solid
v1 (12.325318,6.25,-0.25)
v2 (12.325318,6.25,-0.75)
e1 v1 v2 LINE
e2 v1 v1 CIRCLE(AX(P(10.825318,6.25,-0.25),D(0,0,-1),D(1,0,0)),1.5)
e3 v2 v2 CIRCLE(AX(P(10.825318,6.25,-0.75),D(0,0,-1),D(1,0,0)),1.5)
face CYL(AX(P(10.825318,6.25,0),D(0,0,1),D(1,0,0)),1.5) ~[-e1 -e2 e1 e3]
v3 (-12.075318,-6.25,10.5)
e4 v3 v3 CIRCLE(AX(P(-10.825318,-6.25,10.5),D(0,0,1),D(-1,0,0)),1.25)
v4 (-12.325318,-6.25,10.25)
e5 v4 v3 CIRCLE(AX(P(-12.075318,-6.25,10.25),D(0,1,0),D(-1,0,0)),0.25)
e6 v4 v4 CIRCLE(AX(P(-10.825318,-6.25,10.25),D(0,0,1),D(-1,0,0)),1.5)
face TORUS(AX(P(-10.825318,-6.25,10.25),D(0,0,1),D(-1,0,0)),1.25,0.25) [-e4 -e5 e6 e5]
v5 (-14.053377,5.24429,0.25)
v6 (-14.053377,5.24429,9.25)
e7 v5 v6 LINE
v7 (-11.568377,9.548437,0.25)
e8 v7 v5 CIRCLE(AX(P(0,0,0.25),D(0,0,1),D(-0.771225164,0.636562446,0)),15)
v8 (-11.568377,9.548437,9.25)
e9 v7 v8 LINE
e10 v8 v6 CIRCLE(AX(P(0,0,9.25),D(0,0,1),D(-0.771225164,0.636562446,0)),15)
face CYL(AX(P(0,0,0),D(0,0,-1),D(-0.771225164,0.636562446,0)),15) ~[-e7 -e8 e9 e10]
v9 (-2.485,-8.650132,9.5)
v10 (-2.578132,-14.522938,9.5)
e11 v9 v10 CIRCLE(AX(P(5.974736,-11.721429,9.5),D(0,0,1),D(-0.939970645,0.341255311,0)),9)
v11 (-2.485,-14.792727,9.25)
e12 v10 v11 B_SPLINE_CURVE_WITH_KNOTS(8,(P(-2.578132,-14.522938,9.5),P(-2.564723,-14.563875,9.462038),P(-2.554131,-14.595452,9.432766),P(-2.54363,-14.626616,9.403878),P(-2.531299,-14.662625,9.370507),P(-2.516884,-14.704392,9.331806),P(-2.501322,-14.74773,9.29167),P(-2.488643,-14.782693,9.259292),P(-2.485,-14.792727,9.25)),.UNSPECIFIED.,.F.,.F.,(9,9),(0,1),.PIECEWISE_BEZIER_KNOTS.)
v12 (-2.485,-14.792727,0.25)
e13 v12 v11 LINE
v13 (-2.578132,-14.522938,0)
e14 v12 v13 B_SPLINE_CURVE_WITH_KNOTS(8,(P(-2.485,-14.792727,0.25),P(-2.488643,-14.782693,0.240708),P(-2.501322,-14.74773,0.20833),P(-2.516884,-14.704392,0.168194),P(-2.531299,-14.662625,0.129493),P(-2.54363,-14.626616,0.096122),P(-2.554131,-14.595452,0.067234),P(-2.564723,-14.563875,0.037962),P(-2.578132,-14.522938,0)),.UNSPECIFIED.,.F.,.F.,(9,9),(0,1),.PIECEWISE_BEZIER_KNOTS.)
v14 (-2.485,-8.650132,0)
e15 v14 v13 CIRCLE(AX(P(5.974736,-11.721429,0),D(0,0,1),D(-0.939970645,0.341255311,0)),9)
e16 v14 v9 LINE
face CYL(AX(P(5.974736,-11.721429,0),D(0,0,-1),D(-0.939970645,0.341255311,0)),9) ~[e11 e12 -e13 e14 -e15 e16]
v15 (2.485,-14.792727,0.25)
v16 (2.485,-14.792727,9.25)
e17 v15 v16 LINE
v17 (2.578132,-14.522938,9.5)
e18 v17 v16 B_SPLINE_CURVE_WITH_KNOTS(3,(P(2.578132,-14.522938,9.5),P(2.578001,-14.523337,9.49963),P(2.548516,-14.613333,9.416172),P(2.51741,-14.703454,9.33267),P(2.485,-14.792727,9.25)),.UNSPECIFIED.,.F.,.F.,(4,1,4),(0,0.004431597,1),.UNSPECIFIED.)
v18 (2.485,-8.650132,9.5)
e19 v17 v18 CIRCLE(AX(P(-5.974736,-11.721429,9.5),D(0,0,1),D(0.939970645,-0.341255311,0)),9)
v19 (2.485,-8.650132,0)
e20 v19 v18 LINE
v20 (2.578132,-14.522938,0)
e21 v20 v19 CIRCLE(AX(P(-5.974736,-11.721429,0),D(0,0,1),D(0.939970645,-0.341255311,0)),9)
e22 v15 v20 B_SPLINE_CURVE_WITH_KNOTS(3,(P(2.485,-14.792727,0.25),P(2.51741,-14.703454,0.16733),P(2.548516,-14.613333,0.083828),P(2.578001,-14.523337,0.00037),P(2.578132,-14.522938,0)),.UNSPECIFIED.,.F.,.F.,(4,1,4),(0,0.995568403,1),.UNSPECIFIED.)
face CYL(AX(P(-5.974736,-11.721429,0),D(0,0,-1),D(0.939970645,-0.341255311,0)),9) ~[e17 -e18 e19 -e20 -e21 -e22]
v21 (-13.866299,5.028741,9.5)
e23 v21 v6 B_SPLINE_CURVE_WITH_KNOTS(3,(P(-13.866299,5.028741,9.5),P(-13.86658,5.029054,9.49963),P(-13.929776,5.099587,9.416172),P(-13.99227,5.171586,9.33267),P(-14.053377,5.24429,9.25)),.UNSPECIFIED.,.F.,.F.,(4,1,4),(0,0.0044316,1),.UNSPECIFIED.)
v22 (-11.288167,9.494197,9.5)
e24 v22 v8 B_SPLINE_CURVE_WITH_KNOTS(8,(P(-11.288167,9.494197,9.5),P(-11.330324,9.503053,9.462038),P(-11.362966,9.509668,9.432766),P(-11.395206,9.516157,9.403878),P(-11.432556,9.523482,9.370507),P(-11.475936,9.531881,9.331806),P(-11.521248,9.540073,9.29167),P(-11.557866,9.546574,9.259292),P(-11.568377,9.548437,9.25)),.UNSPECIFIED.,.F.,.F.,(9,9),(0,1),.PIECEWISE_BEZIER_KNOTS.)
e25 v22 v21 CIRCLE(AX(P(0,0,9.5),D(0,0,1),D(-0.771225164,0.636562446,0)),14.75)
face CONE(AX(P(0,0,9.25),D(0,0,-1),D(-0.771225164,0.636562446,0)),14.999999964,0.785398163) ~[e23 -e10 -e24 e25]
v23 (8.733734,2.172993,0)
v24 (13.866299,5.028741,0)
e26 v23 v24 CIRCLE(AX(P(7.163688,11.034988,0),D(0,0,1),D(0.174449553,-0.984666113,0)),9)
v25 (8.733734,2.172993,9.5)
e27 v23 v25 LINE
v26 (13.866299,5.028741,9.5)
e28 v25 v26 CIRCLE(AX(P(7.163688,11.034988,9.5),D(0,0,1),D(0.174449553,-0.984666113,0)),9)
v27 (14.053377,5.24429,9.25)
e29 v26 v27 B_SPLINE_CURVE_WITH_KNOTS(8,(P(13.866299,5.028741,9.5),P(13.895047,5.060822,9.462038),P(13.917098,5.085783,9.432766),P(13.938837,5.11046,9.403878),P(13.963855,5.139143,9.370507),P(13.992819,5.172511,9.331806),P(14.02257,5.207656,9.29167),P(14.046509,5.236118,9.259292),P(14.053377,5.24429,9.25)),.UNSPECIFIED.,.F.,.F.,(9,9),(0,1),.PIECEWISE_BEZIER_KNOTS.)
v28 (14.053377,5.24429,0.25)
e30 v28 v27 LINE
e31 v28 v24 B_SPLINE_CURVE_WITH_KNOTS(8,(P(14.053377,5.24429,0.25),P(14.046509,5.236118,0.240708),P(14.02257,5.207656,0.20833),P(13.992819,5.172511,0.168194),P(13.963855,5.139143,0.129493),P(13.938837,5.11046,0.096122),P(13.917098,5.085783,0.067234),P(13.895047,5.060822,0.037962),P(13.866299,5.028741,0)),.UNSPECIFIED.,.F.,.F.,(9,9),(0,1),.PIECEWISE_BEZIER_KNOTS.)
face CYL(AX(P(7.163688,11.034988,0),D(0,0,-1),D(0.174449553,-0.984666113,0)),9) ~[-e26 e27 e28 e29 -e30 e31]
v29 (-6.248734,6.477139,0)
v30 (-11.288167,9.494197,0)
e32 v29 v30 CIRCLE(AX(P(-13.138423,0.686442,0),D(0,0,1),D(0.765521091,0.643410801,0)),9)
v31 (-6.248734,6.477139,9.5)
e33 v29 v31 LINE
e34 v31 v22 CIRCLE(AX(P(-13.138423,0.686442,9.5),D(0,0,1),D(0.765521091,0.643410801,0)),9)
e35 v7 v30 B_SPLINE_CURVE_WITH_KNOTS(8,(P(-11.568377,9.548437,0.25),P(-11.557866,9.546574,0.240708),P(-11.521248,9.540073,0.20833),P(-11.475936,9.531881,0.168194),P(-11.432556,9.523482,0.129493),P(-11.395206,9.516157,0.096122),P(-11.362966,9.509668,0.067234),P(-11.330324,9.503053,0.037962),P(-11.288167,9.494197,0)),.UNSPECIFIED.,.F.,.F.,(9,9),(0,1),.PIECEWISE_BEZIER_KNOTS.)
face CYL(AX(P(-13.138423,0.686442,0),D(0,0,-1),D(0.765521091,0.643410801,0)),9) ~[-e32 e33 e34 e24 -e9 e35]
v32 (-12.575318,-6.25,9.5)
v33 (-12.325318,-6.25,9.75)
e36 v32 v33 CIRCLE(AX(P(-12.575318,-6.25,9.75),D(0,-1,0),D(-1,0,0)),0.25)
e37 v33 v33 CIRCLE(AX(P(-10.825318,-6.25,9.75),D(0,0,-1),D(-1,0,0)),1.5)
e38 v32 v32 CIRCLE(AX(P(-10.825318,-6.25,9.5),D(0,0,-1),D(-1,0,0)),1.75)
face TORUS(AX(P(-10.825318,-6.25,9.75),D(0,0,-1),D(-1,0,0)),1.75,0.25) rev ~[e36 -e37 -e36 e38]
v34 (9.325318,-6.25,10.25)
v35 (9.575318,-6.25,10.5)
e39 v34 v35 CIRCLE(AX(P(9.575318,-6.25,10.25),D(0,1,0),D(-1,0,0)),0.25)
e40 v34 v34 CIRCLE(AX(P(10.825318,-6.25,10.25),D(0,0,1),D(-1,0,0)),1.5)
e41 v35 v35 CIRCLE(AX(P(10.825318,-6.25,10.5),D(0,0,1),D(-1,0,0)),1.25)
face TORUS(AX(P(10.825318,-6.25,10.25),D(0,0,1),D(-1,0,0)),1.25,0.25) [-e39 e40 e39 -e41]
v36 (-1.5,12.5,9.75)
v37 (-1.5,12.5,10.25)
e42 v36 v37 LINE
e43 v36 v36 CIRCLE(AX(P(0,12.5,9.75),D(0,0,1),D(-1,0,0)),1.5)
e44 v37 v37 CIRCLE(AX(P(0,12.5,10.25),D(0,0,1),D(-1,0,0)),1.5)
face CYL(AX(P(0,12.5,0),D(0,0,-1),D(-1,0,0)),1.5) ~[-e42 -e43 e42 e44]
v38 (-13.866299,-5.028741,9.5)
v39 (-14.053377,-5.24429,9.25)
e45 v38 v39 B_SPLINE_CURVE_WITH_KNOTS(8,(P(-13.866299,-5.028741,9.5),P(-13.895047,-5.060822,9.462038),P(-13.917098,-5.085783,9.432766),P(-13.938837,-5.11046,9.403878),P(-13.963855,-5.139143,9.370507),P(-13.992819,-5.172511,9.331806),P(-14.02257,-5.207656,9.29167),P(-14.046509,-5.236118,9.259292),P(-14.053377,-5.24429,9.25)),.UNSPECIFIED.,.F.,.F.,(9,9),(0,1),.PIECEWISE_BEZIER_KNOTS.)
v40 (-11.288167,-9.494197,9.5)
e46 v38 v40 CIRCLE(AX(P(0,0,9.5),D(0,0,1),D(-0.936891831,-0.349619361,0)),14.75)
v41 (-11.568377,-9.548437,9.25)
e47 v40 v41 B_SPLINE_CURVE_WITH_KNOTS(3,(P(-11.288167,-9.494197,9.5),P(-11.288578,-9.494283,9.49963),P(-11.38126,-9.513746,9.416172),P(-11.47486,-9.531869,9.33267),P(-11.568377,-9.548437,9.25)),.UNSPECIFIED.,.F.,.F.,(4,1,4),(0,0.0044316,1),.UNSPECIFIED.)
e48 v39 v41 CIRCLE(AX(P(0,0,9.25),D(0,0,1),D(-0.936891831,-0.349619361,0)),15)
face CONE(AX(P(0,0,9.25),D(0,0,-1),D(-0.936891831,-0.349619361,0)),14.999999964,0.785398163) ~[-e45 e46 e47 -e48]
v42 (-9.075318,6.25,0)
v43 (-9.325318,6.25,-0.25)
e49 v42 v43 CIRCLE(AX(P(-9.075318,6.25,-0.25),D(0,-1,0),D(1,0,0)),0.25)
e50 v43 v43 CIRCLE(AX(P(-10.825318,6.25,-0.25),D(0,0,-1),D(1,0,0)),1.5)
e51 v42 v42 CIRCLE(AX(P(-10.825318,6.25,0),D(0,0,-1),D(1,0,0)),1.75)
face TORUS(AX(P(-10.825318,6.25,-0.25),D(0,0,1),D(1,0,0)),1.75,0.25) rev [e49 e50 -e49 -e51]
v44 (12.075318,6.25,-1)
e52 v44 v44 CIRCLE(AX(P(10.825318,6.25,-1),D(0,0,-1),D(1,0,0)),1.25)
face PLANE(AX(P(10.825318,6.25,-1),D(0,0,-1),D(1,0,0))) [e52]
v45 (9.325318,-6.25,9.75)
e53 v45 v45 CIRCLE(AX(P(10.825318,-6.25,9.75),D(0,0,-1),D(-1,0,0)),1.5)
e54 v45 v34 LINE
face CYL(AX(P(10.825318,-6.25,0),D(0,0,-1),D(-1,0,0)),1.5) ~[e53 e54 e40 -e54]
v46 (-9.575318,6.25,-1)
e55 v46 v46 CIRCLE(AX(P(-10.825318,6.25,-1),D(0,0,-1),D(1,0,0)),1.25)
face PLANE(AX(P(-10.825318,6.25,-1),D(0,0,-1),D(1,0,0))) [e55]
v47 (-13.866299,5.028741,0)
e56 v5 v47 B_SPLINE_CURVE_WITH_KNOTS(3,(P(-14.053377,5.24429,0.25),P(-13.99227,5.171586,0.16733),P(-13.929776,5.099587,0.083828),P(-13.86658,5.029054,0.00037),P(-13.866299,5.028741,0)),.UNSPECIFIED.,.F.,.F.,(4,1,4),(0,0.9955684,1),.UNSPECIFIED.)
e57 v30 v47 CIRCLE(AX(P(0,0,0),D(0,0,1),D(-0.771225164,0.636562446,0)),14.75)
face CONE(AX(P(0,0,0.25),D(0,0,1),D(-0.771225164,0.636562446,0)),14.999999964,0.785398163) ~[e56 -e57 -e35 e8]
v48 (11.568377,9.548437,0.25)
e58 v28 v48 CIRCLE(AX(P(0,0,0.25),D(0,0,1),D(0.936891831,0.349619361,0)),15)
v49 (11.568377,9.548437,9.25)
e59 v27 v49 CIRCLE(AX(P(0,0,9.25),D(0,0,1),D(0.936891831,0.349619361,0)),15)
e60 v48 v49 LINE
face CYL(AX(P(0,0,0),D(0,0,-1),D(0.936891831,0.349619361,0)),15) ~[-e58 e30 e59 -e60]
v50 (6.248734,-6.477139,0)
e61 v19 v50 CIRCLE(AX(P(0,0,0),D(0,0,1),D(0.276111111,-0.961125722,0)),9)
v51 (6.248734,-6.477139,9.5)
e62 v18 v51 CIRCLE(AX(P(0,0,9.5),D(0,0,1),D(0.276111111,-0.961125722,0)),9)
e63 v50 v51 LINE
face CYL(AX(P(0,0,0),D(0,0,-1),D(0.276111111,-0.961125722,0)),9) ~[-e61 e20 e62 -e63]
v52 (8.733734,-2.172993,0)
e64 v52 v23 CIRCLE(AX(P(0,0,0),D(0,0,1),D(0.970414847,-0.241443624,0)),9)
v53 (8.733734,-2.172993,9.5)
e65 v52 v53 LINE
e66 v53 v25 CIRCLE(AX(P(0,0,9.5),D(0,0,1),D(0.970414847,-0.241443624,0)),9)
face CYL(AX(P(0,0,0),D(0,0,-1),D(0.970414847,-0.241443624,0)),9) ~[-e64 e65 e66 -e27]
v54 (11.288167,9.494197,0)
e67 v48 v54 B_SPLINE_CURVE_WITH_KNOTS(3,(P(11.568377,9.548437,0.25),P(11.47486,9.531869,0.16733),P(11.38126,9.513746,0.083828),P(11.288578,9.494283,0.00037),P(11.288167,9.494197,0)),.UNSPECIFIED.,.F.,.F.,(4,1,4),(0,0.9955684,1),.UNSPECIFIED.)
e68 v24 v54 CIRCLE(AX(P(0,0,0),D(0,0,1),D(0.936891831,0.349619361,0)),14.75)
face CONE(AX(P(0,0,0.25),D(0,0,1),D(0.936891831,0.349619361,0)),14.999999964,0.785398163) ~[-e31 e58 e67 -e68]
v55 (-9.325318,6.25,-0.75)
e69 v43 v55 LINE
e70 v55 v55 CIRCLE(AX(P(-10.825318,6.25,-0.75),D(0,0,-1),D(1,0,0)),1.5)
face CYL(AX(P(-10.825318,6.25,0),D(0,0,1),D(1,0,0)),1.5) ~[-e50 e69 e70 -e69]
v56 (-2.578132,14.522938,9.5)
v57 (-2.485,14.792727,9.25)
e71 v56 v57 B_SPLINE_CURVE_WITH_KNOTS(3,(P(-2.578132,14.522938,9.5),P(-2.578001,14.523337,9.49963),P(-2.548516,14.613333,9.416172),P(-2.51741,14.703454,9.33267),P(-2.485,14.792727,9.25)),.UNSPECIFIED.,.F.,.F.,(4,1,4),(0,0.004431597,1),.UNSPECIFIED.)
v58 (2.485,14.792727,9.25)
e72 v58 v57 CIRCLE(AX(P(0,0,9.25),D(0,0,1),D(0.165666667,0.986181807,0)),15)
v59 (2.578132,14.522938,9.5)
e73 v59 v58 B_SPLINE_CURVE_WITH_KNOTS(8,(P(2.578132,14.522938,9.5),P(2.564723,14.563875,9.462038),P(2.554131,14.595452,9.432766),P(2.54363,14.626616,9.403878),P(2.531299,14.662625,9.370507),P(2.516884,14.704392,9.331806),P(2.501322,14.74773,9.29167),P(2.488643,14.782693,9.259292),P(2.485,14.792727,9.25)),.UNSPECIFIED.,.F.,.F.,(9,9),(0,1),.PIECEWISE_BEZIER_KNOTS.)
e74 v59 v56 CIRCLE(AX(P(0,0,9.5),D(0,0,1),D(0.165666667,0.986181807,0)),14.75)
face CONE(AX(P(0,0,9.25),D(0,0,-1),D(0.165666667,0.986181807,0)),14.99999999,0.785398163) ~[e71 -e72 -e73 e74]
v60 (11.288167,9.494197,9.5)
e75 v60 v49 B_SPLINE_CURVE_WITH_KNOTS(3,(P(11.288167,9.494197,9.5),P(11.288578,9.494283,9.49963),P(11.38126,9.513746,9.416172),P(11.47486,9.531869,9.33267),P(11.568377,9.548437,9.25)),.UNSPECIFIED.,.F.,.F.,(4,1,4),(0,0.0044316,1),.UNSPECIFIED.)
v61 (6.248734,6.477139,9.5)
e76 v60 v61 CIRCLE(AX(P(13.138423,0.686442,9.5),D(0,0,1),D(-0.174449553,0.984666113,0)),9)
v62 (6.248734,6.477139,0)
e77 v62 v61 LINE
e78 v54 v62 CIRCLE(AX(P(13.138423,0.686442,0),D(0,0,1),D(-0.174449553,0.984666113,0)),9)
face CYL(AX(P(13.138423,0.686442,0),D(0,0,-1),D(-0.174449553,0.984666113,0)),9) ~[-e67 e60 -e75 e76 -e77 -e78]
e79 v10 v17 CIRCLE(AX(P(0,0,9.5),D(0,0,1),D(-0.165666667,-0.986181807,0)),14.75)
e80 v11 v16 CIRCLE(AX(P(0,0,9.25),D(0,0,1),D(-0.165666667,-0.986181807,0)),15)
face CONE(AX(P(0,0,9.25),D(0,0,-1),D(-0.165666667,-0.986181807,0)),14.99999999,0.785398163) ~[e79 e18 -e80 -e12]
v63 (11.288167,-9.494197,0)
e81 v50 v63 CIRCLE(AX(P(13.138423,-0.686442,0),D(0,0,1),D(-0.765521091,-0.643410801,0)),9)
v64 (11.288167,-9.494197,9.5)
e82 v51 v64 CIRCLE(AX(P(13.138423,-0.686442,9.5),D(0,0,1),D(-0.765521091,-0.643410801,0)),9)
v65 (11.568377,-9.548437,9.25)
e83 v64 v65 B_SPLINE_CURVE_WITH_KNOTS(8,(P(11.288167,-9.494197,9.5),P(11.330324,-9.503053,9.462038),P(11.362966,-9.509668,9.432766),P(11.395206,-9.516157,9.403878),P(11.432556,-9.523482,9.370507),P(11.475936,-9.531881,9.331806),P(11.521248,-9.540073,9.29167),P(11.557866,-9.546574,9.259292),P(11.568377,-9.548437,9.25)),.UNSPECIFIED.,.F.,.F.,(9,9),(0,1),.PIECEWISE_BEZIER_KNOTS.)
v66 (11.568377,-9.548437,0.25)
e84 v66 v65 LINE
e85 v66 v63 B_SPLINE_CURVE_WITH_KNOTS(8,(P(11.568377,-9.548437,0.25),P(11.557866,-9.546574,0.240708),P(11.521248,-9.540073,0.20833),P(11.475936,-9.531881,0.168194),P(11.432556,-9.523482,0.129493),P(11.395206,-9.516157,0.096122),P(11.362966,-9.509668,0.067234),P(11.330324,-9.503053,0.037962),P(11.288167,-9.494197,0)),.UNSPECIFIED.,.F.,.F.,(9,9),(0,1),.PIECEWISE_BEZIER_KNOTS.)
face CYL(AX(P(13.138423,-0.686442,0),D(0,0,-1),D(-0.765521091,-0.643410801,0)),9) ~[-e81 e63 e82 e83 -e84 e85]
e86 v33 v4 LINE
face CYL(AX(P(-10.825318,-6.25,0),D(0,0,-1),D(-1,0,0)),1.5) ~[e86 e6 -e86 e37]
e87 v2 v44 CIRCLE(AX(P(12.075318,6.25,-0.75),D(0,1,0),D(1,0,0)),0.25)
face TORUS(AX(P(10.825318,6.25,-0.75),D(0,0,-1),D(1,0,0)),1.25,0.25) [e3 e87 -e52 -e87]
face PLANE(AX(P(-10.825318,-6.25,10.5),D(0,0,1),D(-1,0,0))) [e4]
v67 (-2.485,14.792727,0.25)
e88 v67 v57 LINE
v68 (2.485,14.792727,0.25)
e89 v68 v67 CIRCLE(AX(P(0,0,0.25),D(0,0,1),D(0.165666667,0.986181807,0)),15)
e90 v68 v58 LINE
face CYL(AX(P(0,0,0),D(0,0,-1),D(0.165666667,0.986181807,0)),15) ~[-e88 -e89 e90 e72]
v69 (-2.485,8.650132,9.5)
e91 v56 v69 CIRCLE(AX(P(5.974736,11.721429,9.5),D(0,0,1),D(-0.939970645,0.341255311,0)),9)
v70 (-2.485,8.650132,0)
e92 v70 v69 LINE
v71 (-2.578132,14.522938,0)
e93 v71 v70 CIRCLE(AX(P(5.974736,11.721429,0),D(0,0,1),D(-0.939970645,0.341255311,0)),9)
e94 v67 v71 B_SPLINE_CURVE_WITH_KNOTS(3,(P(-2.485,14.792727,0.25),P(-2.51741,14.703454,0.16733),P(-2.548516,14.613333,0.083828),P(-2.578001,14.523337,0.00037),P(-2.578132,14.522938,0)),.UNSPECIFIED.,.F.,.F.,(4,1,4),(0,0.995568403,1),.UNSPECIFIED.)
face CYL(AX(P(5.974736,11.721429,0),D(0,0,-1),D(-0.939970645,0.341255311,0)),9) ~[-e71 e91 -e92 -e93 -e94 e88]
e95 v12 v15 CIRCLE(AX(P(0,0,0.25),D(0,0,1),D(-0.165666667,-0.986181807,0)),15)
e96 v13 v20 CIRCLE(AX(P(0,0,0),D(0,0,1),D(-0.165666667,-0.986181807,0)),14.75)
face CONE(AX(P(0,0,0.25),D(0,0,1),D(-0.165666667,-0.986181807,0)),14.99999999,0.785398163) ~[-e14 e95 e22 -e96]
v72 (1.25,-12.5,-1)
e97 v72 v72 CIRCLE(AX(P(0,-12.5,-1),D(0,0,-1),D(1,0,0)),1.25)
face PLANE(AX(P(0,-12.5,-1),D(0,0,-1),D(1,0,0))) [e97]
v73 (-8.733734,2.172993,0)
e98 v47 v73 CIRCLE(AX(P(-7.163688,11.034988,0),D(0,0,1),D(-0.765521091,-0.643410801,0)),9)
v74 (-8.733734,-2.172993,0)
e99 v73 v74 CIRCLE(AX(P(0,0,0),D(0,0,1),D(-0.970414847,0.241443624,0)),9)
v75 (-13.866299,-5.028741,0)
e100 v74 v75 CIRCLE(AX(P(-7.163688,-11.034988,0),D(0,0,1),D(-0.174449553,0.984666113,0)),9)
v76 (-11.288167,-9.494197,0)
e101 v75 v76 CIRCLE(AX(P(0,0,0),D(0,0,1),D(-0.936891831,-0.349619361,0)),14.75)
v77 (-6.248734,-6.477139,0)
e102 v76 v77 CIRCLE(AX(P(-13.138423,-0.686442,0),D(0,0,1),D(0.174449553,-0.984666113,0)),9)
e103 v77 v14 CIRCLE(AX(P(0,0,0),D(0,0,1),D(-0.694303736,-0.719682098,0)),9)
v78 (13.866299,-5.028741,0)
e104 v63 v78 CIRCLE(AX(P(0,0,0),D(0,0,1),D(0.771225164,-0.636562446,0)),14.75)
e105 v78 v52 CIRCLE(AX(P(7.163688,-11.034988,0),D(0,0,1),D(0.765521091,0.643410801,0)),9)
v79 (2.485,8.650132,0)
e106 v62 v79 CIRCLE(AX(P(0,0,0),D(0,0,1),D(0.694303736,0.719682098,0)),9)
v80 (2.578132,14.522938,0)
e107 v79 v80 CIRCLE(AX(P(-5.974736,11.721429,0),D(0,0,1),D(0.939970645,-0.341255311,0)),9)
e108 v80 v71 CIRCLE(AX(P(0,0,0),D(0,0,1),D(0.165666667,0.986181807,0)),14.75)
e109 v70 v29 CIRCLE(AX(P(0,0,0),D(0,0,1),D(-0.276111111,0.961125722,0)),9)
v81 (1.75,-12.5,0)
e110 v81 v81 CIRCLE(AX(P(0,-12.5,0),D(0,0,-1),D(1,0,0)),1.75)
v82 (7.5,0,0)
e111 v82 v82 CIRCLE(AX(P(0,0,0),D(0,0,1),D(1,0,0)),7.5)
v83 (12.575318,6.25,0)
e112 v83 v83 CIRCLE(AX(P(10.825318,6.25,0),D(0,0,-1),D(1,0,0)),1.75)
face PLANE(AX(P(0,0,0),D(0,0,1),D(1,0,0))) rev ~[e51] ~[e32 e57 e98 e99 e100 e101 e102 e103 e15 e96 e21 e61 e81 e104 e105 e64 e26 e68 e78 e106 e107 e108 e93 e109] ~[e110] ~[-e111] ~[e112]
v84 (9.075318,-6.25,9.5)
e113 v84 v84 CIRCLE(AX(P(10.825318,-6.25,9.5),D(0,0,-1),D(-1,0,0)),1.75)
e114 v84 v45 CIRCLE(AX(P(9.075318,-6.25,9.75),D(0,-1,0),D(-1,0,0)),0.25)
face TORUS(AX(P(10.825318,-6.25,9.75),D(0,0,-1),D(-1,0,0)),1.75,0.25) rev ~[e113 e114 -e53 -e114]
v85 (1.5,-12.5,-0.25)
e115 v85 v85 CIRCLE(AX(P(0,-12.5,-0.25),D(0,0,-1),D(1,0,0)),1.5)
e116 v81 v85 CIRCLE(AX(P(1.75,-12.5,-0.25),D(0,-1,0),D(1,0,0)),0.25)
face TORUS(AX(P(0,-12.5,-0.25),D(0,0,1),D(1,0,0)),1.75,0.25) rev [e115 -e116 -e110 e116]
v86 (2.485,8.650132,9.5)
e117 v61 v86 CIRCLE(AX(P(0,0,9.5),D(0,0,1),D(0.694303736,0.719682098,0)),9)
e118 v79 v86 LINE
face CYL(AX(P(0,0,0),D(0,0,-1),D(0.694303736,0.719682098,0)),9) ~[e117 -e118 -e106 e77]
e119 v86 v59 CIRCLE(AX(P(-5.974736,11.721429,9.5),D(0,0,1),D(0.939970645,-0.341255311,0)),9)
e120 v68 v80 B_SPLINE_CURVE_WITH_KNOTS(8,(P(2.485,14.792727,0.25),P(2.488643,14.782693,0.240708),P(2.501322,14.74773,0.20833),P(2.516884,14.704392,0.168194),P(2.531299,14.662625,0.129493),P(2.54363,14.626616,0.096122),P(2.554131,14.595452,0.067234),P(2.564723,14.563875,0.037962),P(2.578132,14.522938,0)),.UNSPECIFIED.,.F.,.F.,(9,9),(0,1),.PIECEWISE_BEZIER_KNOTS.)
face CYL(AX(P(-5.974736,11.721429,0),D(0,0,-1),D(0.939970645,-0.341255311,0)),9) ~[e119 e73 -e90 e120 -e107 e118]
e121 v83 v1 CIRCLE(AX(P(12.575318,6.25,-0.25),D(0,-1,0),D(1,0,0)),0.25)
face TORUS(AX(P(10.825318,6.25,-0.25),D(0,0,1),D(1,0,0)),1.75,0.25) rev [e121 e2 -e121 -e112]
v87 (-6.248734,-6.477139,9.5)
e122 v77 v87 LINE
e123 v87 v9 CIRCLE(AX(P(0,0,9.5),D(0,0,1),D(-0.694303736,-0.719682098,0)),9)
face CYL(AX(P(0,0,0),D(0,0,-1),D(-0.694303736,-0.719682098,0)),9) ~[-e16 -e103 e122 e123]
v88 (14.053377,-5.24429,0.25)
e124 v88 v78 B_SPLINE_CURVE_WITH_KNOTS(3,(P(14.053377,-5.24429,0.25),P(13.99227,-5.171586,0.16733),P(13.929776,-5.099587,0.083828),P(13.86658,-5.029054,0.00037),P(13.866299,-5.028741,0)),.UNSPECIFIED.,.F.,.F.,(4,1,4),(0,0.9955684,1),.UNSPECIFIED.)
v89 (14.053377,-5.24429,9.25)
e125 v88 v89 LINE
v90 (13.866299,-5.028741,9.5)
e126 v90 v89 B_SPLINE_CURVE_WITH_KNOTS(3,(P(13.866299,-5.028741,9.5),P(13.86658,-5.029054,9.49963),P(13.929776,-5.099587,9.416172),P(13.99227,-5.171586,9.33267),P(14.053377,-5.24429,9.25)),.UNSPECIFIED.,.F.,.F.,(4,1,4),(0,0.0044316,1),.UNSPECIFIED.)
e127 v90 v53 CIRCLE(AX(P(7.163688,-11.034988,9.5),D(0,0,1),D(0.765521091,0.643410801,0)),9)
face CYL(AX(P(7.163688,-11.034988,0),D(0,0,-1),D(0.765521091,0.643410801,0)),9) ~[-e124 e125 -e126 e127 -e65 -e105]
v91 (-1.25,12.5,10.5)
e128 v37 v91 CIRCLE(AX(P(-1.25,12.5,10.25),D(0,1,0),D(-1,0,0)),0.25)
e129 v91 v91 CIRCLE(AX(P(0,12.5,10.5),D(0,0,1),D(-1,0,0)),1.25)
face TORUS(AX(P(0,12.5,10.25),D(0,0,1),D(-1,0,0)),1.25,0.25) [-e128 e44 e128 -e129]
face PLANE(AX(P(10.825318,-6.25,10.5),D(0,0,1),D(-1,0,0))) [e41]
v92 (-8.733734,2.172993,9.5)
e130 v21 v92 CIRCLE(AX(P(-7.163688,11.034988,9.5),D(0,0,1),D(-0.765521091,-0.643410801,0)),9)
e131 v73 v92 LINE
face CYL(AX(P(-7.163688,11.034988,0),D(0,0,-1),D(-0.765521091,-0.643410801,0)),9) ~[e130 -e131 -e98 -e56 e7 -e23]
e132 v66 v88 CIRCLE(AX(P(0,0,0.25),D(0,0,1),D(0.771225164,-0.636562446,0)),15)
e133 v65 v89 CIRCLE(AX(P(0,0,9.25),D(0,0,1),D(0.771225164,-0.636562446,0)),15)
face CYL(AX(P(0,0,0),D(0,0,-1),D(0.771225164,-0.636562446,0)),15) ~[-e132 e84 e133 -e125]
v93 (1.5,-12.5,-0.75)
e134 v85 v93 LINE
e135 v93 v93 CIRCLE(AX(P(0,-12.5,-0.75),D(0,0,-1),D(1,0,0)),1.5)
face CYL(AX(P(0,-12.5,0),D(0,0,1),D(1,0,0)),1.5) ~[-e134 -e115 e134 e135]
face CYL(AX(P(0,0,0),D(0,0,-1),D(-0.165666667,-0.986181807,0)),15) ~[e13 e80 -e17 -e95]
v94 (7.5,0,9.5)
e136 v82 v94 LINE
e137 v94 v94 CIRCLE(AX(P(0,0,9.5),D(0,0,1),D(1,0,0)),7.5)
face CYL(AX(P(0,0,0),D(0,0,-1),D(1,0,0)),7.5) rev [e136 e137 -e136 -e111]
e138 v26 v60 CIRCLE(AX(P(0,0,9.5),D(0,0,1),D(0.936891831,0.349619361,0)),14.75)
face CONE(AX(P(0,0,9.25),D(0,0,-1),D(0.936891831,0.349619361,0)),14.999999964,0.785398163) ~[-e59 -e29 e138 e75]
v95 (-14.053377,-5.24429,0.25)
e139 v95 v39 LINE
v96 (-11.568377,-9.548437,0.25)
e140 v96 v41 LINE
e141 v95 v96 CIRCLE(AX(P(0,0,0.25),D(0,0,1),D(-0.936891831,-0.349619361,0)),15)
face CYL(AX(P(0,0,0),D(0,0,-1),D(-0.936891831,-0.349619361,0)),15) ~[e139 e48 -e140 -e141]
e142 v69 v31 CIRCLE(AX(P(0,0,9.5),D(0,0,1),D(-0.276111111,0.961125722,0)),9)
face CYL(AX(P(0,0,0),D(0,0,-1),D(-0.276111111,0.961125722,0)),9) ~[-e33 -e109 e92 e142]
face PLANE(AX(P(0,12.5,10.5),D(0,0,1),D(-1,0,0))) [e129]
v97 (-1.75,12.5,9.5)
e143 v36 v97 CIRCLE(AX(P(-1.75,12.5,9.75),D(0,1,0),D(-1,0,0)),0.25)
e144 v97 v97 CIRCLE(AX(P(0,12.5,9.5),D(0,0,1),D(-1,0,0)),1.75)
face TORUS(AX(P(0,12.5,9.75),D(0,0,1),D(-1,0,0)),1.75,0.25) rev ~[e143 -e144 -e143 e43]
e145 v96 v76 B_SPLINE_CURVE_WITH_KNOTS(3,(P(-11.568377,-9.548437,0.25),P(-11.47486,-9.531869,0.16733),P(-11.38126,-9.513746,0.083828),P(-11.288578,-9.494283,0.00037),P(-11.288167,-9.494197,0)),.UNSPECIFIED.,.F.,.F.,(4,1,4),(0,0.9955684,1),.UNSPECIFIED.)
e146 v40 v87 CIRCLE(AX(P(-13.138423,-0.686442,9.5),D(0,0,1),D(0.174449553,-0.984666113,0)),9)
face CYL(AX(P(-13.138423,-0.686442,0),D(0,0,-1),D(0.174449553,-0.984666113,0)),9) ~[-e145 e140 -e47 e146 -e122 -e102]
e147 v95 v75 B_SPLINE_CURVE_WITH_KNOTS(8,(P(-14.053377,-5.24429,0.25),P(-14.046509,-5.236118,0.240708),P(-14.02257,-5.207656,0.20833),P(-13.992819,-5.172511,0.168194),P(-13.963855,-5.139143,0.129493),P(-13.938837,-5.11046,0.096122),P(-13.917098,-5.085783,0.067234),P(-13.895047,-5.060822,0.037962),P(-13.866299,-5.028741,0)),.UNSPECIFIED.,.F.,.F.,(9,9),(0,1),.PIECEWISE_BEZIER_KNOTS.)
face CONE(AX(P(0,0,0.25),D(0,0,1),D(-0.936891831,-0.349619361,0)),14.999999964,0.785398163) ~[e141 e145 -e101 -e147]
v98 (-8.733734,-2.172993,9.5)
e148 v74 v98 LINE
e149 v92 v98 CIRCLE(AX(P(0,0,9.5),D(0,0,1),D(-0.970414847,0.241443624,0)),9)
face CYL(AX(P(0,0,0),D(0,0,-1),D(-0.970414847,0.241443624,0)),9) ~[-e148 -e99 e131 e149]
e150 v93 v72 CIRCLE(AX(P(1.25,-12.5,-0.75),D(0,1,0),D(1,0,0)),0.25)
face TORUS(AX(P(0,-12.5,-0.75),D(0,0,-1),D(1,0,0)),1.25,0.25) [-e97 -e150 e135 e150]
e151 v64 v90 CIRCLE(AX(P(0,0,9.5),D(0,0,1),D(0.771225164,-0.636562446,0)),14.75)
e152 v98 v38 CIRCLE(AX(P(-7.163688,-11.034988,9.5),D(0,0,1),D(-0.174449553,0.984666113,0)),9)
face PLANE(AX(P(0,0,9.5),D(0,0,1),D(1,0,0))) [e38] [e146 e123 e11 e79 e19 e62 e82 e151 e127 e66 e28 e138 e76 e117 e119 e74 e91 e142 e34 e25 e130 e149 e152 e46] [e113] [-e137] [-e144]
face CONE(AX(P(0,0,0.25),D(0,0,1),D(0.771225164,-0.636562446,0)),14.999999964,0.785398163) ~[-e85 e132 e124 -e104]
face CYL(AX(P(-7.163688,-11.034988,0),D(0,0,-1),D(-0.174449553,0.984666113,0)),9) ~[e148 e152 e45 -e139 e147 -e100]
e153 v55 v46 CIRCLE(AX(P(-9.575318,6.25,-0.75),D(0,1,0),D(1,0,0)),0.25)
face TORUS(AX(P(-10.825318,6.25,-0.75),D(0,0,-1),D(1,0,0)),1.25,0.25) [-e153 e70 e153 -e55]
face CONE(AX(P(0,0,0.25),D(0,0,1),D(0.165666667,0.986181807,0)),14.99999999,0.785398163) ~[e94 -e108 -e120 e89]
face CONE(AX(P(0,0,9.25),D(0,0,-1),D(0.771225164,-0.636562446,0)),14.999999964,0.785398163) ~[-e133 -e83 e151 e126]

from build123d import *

# Parameters (mm, degrees)
SKETCH1_R           = 7.5
SKETCH1_R_2         = 1.5
BOSS_EXTRUDE1_DEPTH = 9.5
SKETCH1_4_R         = 1.5
BOSS_EXTRUDE2_DEPTH = 10.5
FILLET1_R           = 0.25
CHAMFER1_SIZE       = 0.25
SKETCH2_R           = 1.5
BOSS_EXTRUDE3_DEPTH = 1
FILLET2_R           = 0.25


with BuildPart() as part:
    # Sketch1 → Boss-Extrude1 (new body)
    with BuildSketch(Plane.XY):
        with BuildLine():
            ThreePointArc((-11.568377458, 9.548436677), (-12.990381057, 7.5), (-14.053377458, 5.244290421))
            ThreePointArc((-14.053377458, 5.244290421), (-11.663687642, 3.240759001), (-8.733733627, 2.172992623))
            ThreePointArc((-8.733733627, 2.172992623), (-9, 0), (-8.733733627, -2.172992623))
            ThreePointArc((-8.733733627, -2.172992623), (-11.663687642, -3.240759001), (-14.053377458, -5.244290421))
            ThreePointArc((-14.053377458, -5.244290421), (-12.990381057, -7.5), (-11.568377458, -9.548436677))
            ThreePointArc((-11.568377458, -9.548436677), (-8.638423443, -8.480670299), (-6.248733627, -6.477138879))
            ThreePointArc((-6.248733627, -6.477138879), (-4.5, -7.794228634), (-2.485, -8.650131502))
            ThreePointArc((-2.485, -8.650131502), (-3.025264198, -11.7214293), (-2.485, -14.792727098))
            ThreePointArc((-2.485, -14.792727098), (0, -15), (2.485, -14.792727098))
            ThreePointArc((2.485, -14.792727098), (3.025264198, -11.7214293), (2.485, -8.650131502))
            ThreePointArc((2.485, -8.650131502), (4.5, -7.794228634), (6.248733627, -6.477138879))
            ThreePointArc((6.248733627, -6.477138879), (8.638423443, -8.480670299), (11.568377458, -9.548436677))
            ThreePointArc((11.568377458, -9.548436677), (12.990381057, -7.5), (14.053377458, -5.244290421))
            ThreePointArc((14.053377458, -5.244290421), (11.663687642, -3.240759001), (8.733733627, -2.172992623))
            ThreePointArc((8.733733627, -2.172992623), (9, 0), (8.733733627, 2.172992623))
            ThreePointArc((8.733733627, 2.172992623), (11.663687642, 3.240759001), (14.053377458, 5.244290421))
            ThreePointArc((14.053377458, 5.244290421), (12.990381057, 7.5), (11.568377458, 9.548436677))
            ThreePointArc((11.568377458, 9.548436677), (8.638423443, 8.480670299), (6.248733627, 6.477138879))
            ThreePointArc((6.248733627, 6.477138879), (4.5, 7.794228634), (2.485, 8.650131502))
            ThreePointArc((2.485, 8.650131502), (3.025264198, 11.7214293), (2.485, 14.792727098))
            ThreePointArc((2.485, 14.792727098), (0, 15), (-2.485, 14.792727098))
            ThreePointArc((-2.485, 14.792727098), (-3.025264198, 11.7214293), (-2.485, 8.650131502))
            ThreePointArc((-2.485, 8.650131502), (-4.5, 7.794228634), (-6.248733627, 6.477138879))
            ThreePointArc((-6.248733627, 6.477138879), (-8.638423443, 8.480670299), (-11.568377458, 9.548436677))
        make_face()
        Circle(SKETCH1_R, mode=Mode.SUBTRACT)
        with Locations((0, 12.5)):
            Circle(SKETCH1_R_2, mode=Mode.SUBTRACT)
        with Locations((10.825317547, -6.25)):
            Circle(SKETCH1_R_2, mode=Mode.SUBTRACT)
        with Locations((-10.825317547, -6.25)):
            Circle(SKETCH1_R_2, mode=Mode.SUBTRACT)
    extrude(amount=BOSS_EXTRUDE1_DEPTH)

    # Sketch1<4> → Boss-Extrude2 (add)
    with BuildSketch(Plane.XY):
        with Locations((0, 12.5)):
            Circle(SKETCH1_4_R)
        with Locations((10.825317547, -6.25)):
            Circle(SKETCH1_4_R)
        with Locations((-10.825317547, -6.25)):
            Circle(SKETCH1_4_R)
    extrude(amount=BOSS_EXTRUDE2_DEPTH)

    # Fillet1
    fillet1_edges = [part.edges().sort_by_distance(p)[0] for p in [
        (9.325317547, -6.25, 10.5),
        (-1.5, 12.5, 10.5),
        (-12.325317547, -6.25, 10.5),
        (-1.5, 12.5, 9.5),
        (9.325317547, -6.25, 9.5),
        (-12.325317547, -6.25, 9.5),
    ]]
    fillet(fillet1_edges, radius=FILLET1_R)

    # Chamfer1
    chamfer1_edges = [part.edges().sort_by_distance(p)[0] for p in [
        (12.990381057, -7.5, 9.5),
        (0, -15, 9.5),
        (-12.990381057, -7.5, 9.5),
        (-12.990381057, 7.5, 9.5),
        (0, 15, 9.5),
        (12.990381057, 7.5, 9.5),
        (-12.990381057, 7.5, 0),
        (-12.990381057, -7.5, 0),
        (0, -15, 0),
        (12.990381057, -7.5, 0),
        (12.990381057, 7.5, 0),
        (0, 15, 0),
    ]]
    chamfer(chamfer1_edges, length=CHAMFER1_SIZE)

    # Sketch2 → Boss-Extrude3 (add)
    with BuildSketch(Plane(origin=(0, 0, 0), x_dir=(-1, 0, 0), z_dir=(0, 0, -1))):
        with Locations((0, -12.5)):
            Circle(SKETCH2_R)
        with Locations((-10.825317547, 6.25)):
            Circle(SKETCH2_R)
        with Locations((10.825317547, 6.25)):
            Circle(SKETCH2_R)
    extrude(amount=BOSS_EXTRUDE3_DEPTH)

    # Fillet2
    fillet2_edges = [part.edges().sort_by_distance(p)[0] for p in [
        (1.5, -12.5, 0),
        (1.5, -12.5, -1),
        (12.325317547, 6.25, 0),
        (12.325317547, 6.25, -1),
        (-9.325317547, 6.25, 0),
        (-9.325317547, 6.25, -1),
    ]]
    fillet(fillet2_edges, radius=FILLET2_R)


solid = part.part
